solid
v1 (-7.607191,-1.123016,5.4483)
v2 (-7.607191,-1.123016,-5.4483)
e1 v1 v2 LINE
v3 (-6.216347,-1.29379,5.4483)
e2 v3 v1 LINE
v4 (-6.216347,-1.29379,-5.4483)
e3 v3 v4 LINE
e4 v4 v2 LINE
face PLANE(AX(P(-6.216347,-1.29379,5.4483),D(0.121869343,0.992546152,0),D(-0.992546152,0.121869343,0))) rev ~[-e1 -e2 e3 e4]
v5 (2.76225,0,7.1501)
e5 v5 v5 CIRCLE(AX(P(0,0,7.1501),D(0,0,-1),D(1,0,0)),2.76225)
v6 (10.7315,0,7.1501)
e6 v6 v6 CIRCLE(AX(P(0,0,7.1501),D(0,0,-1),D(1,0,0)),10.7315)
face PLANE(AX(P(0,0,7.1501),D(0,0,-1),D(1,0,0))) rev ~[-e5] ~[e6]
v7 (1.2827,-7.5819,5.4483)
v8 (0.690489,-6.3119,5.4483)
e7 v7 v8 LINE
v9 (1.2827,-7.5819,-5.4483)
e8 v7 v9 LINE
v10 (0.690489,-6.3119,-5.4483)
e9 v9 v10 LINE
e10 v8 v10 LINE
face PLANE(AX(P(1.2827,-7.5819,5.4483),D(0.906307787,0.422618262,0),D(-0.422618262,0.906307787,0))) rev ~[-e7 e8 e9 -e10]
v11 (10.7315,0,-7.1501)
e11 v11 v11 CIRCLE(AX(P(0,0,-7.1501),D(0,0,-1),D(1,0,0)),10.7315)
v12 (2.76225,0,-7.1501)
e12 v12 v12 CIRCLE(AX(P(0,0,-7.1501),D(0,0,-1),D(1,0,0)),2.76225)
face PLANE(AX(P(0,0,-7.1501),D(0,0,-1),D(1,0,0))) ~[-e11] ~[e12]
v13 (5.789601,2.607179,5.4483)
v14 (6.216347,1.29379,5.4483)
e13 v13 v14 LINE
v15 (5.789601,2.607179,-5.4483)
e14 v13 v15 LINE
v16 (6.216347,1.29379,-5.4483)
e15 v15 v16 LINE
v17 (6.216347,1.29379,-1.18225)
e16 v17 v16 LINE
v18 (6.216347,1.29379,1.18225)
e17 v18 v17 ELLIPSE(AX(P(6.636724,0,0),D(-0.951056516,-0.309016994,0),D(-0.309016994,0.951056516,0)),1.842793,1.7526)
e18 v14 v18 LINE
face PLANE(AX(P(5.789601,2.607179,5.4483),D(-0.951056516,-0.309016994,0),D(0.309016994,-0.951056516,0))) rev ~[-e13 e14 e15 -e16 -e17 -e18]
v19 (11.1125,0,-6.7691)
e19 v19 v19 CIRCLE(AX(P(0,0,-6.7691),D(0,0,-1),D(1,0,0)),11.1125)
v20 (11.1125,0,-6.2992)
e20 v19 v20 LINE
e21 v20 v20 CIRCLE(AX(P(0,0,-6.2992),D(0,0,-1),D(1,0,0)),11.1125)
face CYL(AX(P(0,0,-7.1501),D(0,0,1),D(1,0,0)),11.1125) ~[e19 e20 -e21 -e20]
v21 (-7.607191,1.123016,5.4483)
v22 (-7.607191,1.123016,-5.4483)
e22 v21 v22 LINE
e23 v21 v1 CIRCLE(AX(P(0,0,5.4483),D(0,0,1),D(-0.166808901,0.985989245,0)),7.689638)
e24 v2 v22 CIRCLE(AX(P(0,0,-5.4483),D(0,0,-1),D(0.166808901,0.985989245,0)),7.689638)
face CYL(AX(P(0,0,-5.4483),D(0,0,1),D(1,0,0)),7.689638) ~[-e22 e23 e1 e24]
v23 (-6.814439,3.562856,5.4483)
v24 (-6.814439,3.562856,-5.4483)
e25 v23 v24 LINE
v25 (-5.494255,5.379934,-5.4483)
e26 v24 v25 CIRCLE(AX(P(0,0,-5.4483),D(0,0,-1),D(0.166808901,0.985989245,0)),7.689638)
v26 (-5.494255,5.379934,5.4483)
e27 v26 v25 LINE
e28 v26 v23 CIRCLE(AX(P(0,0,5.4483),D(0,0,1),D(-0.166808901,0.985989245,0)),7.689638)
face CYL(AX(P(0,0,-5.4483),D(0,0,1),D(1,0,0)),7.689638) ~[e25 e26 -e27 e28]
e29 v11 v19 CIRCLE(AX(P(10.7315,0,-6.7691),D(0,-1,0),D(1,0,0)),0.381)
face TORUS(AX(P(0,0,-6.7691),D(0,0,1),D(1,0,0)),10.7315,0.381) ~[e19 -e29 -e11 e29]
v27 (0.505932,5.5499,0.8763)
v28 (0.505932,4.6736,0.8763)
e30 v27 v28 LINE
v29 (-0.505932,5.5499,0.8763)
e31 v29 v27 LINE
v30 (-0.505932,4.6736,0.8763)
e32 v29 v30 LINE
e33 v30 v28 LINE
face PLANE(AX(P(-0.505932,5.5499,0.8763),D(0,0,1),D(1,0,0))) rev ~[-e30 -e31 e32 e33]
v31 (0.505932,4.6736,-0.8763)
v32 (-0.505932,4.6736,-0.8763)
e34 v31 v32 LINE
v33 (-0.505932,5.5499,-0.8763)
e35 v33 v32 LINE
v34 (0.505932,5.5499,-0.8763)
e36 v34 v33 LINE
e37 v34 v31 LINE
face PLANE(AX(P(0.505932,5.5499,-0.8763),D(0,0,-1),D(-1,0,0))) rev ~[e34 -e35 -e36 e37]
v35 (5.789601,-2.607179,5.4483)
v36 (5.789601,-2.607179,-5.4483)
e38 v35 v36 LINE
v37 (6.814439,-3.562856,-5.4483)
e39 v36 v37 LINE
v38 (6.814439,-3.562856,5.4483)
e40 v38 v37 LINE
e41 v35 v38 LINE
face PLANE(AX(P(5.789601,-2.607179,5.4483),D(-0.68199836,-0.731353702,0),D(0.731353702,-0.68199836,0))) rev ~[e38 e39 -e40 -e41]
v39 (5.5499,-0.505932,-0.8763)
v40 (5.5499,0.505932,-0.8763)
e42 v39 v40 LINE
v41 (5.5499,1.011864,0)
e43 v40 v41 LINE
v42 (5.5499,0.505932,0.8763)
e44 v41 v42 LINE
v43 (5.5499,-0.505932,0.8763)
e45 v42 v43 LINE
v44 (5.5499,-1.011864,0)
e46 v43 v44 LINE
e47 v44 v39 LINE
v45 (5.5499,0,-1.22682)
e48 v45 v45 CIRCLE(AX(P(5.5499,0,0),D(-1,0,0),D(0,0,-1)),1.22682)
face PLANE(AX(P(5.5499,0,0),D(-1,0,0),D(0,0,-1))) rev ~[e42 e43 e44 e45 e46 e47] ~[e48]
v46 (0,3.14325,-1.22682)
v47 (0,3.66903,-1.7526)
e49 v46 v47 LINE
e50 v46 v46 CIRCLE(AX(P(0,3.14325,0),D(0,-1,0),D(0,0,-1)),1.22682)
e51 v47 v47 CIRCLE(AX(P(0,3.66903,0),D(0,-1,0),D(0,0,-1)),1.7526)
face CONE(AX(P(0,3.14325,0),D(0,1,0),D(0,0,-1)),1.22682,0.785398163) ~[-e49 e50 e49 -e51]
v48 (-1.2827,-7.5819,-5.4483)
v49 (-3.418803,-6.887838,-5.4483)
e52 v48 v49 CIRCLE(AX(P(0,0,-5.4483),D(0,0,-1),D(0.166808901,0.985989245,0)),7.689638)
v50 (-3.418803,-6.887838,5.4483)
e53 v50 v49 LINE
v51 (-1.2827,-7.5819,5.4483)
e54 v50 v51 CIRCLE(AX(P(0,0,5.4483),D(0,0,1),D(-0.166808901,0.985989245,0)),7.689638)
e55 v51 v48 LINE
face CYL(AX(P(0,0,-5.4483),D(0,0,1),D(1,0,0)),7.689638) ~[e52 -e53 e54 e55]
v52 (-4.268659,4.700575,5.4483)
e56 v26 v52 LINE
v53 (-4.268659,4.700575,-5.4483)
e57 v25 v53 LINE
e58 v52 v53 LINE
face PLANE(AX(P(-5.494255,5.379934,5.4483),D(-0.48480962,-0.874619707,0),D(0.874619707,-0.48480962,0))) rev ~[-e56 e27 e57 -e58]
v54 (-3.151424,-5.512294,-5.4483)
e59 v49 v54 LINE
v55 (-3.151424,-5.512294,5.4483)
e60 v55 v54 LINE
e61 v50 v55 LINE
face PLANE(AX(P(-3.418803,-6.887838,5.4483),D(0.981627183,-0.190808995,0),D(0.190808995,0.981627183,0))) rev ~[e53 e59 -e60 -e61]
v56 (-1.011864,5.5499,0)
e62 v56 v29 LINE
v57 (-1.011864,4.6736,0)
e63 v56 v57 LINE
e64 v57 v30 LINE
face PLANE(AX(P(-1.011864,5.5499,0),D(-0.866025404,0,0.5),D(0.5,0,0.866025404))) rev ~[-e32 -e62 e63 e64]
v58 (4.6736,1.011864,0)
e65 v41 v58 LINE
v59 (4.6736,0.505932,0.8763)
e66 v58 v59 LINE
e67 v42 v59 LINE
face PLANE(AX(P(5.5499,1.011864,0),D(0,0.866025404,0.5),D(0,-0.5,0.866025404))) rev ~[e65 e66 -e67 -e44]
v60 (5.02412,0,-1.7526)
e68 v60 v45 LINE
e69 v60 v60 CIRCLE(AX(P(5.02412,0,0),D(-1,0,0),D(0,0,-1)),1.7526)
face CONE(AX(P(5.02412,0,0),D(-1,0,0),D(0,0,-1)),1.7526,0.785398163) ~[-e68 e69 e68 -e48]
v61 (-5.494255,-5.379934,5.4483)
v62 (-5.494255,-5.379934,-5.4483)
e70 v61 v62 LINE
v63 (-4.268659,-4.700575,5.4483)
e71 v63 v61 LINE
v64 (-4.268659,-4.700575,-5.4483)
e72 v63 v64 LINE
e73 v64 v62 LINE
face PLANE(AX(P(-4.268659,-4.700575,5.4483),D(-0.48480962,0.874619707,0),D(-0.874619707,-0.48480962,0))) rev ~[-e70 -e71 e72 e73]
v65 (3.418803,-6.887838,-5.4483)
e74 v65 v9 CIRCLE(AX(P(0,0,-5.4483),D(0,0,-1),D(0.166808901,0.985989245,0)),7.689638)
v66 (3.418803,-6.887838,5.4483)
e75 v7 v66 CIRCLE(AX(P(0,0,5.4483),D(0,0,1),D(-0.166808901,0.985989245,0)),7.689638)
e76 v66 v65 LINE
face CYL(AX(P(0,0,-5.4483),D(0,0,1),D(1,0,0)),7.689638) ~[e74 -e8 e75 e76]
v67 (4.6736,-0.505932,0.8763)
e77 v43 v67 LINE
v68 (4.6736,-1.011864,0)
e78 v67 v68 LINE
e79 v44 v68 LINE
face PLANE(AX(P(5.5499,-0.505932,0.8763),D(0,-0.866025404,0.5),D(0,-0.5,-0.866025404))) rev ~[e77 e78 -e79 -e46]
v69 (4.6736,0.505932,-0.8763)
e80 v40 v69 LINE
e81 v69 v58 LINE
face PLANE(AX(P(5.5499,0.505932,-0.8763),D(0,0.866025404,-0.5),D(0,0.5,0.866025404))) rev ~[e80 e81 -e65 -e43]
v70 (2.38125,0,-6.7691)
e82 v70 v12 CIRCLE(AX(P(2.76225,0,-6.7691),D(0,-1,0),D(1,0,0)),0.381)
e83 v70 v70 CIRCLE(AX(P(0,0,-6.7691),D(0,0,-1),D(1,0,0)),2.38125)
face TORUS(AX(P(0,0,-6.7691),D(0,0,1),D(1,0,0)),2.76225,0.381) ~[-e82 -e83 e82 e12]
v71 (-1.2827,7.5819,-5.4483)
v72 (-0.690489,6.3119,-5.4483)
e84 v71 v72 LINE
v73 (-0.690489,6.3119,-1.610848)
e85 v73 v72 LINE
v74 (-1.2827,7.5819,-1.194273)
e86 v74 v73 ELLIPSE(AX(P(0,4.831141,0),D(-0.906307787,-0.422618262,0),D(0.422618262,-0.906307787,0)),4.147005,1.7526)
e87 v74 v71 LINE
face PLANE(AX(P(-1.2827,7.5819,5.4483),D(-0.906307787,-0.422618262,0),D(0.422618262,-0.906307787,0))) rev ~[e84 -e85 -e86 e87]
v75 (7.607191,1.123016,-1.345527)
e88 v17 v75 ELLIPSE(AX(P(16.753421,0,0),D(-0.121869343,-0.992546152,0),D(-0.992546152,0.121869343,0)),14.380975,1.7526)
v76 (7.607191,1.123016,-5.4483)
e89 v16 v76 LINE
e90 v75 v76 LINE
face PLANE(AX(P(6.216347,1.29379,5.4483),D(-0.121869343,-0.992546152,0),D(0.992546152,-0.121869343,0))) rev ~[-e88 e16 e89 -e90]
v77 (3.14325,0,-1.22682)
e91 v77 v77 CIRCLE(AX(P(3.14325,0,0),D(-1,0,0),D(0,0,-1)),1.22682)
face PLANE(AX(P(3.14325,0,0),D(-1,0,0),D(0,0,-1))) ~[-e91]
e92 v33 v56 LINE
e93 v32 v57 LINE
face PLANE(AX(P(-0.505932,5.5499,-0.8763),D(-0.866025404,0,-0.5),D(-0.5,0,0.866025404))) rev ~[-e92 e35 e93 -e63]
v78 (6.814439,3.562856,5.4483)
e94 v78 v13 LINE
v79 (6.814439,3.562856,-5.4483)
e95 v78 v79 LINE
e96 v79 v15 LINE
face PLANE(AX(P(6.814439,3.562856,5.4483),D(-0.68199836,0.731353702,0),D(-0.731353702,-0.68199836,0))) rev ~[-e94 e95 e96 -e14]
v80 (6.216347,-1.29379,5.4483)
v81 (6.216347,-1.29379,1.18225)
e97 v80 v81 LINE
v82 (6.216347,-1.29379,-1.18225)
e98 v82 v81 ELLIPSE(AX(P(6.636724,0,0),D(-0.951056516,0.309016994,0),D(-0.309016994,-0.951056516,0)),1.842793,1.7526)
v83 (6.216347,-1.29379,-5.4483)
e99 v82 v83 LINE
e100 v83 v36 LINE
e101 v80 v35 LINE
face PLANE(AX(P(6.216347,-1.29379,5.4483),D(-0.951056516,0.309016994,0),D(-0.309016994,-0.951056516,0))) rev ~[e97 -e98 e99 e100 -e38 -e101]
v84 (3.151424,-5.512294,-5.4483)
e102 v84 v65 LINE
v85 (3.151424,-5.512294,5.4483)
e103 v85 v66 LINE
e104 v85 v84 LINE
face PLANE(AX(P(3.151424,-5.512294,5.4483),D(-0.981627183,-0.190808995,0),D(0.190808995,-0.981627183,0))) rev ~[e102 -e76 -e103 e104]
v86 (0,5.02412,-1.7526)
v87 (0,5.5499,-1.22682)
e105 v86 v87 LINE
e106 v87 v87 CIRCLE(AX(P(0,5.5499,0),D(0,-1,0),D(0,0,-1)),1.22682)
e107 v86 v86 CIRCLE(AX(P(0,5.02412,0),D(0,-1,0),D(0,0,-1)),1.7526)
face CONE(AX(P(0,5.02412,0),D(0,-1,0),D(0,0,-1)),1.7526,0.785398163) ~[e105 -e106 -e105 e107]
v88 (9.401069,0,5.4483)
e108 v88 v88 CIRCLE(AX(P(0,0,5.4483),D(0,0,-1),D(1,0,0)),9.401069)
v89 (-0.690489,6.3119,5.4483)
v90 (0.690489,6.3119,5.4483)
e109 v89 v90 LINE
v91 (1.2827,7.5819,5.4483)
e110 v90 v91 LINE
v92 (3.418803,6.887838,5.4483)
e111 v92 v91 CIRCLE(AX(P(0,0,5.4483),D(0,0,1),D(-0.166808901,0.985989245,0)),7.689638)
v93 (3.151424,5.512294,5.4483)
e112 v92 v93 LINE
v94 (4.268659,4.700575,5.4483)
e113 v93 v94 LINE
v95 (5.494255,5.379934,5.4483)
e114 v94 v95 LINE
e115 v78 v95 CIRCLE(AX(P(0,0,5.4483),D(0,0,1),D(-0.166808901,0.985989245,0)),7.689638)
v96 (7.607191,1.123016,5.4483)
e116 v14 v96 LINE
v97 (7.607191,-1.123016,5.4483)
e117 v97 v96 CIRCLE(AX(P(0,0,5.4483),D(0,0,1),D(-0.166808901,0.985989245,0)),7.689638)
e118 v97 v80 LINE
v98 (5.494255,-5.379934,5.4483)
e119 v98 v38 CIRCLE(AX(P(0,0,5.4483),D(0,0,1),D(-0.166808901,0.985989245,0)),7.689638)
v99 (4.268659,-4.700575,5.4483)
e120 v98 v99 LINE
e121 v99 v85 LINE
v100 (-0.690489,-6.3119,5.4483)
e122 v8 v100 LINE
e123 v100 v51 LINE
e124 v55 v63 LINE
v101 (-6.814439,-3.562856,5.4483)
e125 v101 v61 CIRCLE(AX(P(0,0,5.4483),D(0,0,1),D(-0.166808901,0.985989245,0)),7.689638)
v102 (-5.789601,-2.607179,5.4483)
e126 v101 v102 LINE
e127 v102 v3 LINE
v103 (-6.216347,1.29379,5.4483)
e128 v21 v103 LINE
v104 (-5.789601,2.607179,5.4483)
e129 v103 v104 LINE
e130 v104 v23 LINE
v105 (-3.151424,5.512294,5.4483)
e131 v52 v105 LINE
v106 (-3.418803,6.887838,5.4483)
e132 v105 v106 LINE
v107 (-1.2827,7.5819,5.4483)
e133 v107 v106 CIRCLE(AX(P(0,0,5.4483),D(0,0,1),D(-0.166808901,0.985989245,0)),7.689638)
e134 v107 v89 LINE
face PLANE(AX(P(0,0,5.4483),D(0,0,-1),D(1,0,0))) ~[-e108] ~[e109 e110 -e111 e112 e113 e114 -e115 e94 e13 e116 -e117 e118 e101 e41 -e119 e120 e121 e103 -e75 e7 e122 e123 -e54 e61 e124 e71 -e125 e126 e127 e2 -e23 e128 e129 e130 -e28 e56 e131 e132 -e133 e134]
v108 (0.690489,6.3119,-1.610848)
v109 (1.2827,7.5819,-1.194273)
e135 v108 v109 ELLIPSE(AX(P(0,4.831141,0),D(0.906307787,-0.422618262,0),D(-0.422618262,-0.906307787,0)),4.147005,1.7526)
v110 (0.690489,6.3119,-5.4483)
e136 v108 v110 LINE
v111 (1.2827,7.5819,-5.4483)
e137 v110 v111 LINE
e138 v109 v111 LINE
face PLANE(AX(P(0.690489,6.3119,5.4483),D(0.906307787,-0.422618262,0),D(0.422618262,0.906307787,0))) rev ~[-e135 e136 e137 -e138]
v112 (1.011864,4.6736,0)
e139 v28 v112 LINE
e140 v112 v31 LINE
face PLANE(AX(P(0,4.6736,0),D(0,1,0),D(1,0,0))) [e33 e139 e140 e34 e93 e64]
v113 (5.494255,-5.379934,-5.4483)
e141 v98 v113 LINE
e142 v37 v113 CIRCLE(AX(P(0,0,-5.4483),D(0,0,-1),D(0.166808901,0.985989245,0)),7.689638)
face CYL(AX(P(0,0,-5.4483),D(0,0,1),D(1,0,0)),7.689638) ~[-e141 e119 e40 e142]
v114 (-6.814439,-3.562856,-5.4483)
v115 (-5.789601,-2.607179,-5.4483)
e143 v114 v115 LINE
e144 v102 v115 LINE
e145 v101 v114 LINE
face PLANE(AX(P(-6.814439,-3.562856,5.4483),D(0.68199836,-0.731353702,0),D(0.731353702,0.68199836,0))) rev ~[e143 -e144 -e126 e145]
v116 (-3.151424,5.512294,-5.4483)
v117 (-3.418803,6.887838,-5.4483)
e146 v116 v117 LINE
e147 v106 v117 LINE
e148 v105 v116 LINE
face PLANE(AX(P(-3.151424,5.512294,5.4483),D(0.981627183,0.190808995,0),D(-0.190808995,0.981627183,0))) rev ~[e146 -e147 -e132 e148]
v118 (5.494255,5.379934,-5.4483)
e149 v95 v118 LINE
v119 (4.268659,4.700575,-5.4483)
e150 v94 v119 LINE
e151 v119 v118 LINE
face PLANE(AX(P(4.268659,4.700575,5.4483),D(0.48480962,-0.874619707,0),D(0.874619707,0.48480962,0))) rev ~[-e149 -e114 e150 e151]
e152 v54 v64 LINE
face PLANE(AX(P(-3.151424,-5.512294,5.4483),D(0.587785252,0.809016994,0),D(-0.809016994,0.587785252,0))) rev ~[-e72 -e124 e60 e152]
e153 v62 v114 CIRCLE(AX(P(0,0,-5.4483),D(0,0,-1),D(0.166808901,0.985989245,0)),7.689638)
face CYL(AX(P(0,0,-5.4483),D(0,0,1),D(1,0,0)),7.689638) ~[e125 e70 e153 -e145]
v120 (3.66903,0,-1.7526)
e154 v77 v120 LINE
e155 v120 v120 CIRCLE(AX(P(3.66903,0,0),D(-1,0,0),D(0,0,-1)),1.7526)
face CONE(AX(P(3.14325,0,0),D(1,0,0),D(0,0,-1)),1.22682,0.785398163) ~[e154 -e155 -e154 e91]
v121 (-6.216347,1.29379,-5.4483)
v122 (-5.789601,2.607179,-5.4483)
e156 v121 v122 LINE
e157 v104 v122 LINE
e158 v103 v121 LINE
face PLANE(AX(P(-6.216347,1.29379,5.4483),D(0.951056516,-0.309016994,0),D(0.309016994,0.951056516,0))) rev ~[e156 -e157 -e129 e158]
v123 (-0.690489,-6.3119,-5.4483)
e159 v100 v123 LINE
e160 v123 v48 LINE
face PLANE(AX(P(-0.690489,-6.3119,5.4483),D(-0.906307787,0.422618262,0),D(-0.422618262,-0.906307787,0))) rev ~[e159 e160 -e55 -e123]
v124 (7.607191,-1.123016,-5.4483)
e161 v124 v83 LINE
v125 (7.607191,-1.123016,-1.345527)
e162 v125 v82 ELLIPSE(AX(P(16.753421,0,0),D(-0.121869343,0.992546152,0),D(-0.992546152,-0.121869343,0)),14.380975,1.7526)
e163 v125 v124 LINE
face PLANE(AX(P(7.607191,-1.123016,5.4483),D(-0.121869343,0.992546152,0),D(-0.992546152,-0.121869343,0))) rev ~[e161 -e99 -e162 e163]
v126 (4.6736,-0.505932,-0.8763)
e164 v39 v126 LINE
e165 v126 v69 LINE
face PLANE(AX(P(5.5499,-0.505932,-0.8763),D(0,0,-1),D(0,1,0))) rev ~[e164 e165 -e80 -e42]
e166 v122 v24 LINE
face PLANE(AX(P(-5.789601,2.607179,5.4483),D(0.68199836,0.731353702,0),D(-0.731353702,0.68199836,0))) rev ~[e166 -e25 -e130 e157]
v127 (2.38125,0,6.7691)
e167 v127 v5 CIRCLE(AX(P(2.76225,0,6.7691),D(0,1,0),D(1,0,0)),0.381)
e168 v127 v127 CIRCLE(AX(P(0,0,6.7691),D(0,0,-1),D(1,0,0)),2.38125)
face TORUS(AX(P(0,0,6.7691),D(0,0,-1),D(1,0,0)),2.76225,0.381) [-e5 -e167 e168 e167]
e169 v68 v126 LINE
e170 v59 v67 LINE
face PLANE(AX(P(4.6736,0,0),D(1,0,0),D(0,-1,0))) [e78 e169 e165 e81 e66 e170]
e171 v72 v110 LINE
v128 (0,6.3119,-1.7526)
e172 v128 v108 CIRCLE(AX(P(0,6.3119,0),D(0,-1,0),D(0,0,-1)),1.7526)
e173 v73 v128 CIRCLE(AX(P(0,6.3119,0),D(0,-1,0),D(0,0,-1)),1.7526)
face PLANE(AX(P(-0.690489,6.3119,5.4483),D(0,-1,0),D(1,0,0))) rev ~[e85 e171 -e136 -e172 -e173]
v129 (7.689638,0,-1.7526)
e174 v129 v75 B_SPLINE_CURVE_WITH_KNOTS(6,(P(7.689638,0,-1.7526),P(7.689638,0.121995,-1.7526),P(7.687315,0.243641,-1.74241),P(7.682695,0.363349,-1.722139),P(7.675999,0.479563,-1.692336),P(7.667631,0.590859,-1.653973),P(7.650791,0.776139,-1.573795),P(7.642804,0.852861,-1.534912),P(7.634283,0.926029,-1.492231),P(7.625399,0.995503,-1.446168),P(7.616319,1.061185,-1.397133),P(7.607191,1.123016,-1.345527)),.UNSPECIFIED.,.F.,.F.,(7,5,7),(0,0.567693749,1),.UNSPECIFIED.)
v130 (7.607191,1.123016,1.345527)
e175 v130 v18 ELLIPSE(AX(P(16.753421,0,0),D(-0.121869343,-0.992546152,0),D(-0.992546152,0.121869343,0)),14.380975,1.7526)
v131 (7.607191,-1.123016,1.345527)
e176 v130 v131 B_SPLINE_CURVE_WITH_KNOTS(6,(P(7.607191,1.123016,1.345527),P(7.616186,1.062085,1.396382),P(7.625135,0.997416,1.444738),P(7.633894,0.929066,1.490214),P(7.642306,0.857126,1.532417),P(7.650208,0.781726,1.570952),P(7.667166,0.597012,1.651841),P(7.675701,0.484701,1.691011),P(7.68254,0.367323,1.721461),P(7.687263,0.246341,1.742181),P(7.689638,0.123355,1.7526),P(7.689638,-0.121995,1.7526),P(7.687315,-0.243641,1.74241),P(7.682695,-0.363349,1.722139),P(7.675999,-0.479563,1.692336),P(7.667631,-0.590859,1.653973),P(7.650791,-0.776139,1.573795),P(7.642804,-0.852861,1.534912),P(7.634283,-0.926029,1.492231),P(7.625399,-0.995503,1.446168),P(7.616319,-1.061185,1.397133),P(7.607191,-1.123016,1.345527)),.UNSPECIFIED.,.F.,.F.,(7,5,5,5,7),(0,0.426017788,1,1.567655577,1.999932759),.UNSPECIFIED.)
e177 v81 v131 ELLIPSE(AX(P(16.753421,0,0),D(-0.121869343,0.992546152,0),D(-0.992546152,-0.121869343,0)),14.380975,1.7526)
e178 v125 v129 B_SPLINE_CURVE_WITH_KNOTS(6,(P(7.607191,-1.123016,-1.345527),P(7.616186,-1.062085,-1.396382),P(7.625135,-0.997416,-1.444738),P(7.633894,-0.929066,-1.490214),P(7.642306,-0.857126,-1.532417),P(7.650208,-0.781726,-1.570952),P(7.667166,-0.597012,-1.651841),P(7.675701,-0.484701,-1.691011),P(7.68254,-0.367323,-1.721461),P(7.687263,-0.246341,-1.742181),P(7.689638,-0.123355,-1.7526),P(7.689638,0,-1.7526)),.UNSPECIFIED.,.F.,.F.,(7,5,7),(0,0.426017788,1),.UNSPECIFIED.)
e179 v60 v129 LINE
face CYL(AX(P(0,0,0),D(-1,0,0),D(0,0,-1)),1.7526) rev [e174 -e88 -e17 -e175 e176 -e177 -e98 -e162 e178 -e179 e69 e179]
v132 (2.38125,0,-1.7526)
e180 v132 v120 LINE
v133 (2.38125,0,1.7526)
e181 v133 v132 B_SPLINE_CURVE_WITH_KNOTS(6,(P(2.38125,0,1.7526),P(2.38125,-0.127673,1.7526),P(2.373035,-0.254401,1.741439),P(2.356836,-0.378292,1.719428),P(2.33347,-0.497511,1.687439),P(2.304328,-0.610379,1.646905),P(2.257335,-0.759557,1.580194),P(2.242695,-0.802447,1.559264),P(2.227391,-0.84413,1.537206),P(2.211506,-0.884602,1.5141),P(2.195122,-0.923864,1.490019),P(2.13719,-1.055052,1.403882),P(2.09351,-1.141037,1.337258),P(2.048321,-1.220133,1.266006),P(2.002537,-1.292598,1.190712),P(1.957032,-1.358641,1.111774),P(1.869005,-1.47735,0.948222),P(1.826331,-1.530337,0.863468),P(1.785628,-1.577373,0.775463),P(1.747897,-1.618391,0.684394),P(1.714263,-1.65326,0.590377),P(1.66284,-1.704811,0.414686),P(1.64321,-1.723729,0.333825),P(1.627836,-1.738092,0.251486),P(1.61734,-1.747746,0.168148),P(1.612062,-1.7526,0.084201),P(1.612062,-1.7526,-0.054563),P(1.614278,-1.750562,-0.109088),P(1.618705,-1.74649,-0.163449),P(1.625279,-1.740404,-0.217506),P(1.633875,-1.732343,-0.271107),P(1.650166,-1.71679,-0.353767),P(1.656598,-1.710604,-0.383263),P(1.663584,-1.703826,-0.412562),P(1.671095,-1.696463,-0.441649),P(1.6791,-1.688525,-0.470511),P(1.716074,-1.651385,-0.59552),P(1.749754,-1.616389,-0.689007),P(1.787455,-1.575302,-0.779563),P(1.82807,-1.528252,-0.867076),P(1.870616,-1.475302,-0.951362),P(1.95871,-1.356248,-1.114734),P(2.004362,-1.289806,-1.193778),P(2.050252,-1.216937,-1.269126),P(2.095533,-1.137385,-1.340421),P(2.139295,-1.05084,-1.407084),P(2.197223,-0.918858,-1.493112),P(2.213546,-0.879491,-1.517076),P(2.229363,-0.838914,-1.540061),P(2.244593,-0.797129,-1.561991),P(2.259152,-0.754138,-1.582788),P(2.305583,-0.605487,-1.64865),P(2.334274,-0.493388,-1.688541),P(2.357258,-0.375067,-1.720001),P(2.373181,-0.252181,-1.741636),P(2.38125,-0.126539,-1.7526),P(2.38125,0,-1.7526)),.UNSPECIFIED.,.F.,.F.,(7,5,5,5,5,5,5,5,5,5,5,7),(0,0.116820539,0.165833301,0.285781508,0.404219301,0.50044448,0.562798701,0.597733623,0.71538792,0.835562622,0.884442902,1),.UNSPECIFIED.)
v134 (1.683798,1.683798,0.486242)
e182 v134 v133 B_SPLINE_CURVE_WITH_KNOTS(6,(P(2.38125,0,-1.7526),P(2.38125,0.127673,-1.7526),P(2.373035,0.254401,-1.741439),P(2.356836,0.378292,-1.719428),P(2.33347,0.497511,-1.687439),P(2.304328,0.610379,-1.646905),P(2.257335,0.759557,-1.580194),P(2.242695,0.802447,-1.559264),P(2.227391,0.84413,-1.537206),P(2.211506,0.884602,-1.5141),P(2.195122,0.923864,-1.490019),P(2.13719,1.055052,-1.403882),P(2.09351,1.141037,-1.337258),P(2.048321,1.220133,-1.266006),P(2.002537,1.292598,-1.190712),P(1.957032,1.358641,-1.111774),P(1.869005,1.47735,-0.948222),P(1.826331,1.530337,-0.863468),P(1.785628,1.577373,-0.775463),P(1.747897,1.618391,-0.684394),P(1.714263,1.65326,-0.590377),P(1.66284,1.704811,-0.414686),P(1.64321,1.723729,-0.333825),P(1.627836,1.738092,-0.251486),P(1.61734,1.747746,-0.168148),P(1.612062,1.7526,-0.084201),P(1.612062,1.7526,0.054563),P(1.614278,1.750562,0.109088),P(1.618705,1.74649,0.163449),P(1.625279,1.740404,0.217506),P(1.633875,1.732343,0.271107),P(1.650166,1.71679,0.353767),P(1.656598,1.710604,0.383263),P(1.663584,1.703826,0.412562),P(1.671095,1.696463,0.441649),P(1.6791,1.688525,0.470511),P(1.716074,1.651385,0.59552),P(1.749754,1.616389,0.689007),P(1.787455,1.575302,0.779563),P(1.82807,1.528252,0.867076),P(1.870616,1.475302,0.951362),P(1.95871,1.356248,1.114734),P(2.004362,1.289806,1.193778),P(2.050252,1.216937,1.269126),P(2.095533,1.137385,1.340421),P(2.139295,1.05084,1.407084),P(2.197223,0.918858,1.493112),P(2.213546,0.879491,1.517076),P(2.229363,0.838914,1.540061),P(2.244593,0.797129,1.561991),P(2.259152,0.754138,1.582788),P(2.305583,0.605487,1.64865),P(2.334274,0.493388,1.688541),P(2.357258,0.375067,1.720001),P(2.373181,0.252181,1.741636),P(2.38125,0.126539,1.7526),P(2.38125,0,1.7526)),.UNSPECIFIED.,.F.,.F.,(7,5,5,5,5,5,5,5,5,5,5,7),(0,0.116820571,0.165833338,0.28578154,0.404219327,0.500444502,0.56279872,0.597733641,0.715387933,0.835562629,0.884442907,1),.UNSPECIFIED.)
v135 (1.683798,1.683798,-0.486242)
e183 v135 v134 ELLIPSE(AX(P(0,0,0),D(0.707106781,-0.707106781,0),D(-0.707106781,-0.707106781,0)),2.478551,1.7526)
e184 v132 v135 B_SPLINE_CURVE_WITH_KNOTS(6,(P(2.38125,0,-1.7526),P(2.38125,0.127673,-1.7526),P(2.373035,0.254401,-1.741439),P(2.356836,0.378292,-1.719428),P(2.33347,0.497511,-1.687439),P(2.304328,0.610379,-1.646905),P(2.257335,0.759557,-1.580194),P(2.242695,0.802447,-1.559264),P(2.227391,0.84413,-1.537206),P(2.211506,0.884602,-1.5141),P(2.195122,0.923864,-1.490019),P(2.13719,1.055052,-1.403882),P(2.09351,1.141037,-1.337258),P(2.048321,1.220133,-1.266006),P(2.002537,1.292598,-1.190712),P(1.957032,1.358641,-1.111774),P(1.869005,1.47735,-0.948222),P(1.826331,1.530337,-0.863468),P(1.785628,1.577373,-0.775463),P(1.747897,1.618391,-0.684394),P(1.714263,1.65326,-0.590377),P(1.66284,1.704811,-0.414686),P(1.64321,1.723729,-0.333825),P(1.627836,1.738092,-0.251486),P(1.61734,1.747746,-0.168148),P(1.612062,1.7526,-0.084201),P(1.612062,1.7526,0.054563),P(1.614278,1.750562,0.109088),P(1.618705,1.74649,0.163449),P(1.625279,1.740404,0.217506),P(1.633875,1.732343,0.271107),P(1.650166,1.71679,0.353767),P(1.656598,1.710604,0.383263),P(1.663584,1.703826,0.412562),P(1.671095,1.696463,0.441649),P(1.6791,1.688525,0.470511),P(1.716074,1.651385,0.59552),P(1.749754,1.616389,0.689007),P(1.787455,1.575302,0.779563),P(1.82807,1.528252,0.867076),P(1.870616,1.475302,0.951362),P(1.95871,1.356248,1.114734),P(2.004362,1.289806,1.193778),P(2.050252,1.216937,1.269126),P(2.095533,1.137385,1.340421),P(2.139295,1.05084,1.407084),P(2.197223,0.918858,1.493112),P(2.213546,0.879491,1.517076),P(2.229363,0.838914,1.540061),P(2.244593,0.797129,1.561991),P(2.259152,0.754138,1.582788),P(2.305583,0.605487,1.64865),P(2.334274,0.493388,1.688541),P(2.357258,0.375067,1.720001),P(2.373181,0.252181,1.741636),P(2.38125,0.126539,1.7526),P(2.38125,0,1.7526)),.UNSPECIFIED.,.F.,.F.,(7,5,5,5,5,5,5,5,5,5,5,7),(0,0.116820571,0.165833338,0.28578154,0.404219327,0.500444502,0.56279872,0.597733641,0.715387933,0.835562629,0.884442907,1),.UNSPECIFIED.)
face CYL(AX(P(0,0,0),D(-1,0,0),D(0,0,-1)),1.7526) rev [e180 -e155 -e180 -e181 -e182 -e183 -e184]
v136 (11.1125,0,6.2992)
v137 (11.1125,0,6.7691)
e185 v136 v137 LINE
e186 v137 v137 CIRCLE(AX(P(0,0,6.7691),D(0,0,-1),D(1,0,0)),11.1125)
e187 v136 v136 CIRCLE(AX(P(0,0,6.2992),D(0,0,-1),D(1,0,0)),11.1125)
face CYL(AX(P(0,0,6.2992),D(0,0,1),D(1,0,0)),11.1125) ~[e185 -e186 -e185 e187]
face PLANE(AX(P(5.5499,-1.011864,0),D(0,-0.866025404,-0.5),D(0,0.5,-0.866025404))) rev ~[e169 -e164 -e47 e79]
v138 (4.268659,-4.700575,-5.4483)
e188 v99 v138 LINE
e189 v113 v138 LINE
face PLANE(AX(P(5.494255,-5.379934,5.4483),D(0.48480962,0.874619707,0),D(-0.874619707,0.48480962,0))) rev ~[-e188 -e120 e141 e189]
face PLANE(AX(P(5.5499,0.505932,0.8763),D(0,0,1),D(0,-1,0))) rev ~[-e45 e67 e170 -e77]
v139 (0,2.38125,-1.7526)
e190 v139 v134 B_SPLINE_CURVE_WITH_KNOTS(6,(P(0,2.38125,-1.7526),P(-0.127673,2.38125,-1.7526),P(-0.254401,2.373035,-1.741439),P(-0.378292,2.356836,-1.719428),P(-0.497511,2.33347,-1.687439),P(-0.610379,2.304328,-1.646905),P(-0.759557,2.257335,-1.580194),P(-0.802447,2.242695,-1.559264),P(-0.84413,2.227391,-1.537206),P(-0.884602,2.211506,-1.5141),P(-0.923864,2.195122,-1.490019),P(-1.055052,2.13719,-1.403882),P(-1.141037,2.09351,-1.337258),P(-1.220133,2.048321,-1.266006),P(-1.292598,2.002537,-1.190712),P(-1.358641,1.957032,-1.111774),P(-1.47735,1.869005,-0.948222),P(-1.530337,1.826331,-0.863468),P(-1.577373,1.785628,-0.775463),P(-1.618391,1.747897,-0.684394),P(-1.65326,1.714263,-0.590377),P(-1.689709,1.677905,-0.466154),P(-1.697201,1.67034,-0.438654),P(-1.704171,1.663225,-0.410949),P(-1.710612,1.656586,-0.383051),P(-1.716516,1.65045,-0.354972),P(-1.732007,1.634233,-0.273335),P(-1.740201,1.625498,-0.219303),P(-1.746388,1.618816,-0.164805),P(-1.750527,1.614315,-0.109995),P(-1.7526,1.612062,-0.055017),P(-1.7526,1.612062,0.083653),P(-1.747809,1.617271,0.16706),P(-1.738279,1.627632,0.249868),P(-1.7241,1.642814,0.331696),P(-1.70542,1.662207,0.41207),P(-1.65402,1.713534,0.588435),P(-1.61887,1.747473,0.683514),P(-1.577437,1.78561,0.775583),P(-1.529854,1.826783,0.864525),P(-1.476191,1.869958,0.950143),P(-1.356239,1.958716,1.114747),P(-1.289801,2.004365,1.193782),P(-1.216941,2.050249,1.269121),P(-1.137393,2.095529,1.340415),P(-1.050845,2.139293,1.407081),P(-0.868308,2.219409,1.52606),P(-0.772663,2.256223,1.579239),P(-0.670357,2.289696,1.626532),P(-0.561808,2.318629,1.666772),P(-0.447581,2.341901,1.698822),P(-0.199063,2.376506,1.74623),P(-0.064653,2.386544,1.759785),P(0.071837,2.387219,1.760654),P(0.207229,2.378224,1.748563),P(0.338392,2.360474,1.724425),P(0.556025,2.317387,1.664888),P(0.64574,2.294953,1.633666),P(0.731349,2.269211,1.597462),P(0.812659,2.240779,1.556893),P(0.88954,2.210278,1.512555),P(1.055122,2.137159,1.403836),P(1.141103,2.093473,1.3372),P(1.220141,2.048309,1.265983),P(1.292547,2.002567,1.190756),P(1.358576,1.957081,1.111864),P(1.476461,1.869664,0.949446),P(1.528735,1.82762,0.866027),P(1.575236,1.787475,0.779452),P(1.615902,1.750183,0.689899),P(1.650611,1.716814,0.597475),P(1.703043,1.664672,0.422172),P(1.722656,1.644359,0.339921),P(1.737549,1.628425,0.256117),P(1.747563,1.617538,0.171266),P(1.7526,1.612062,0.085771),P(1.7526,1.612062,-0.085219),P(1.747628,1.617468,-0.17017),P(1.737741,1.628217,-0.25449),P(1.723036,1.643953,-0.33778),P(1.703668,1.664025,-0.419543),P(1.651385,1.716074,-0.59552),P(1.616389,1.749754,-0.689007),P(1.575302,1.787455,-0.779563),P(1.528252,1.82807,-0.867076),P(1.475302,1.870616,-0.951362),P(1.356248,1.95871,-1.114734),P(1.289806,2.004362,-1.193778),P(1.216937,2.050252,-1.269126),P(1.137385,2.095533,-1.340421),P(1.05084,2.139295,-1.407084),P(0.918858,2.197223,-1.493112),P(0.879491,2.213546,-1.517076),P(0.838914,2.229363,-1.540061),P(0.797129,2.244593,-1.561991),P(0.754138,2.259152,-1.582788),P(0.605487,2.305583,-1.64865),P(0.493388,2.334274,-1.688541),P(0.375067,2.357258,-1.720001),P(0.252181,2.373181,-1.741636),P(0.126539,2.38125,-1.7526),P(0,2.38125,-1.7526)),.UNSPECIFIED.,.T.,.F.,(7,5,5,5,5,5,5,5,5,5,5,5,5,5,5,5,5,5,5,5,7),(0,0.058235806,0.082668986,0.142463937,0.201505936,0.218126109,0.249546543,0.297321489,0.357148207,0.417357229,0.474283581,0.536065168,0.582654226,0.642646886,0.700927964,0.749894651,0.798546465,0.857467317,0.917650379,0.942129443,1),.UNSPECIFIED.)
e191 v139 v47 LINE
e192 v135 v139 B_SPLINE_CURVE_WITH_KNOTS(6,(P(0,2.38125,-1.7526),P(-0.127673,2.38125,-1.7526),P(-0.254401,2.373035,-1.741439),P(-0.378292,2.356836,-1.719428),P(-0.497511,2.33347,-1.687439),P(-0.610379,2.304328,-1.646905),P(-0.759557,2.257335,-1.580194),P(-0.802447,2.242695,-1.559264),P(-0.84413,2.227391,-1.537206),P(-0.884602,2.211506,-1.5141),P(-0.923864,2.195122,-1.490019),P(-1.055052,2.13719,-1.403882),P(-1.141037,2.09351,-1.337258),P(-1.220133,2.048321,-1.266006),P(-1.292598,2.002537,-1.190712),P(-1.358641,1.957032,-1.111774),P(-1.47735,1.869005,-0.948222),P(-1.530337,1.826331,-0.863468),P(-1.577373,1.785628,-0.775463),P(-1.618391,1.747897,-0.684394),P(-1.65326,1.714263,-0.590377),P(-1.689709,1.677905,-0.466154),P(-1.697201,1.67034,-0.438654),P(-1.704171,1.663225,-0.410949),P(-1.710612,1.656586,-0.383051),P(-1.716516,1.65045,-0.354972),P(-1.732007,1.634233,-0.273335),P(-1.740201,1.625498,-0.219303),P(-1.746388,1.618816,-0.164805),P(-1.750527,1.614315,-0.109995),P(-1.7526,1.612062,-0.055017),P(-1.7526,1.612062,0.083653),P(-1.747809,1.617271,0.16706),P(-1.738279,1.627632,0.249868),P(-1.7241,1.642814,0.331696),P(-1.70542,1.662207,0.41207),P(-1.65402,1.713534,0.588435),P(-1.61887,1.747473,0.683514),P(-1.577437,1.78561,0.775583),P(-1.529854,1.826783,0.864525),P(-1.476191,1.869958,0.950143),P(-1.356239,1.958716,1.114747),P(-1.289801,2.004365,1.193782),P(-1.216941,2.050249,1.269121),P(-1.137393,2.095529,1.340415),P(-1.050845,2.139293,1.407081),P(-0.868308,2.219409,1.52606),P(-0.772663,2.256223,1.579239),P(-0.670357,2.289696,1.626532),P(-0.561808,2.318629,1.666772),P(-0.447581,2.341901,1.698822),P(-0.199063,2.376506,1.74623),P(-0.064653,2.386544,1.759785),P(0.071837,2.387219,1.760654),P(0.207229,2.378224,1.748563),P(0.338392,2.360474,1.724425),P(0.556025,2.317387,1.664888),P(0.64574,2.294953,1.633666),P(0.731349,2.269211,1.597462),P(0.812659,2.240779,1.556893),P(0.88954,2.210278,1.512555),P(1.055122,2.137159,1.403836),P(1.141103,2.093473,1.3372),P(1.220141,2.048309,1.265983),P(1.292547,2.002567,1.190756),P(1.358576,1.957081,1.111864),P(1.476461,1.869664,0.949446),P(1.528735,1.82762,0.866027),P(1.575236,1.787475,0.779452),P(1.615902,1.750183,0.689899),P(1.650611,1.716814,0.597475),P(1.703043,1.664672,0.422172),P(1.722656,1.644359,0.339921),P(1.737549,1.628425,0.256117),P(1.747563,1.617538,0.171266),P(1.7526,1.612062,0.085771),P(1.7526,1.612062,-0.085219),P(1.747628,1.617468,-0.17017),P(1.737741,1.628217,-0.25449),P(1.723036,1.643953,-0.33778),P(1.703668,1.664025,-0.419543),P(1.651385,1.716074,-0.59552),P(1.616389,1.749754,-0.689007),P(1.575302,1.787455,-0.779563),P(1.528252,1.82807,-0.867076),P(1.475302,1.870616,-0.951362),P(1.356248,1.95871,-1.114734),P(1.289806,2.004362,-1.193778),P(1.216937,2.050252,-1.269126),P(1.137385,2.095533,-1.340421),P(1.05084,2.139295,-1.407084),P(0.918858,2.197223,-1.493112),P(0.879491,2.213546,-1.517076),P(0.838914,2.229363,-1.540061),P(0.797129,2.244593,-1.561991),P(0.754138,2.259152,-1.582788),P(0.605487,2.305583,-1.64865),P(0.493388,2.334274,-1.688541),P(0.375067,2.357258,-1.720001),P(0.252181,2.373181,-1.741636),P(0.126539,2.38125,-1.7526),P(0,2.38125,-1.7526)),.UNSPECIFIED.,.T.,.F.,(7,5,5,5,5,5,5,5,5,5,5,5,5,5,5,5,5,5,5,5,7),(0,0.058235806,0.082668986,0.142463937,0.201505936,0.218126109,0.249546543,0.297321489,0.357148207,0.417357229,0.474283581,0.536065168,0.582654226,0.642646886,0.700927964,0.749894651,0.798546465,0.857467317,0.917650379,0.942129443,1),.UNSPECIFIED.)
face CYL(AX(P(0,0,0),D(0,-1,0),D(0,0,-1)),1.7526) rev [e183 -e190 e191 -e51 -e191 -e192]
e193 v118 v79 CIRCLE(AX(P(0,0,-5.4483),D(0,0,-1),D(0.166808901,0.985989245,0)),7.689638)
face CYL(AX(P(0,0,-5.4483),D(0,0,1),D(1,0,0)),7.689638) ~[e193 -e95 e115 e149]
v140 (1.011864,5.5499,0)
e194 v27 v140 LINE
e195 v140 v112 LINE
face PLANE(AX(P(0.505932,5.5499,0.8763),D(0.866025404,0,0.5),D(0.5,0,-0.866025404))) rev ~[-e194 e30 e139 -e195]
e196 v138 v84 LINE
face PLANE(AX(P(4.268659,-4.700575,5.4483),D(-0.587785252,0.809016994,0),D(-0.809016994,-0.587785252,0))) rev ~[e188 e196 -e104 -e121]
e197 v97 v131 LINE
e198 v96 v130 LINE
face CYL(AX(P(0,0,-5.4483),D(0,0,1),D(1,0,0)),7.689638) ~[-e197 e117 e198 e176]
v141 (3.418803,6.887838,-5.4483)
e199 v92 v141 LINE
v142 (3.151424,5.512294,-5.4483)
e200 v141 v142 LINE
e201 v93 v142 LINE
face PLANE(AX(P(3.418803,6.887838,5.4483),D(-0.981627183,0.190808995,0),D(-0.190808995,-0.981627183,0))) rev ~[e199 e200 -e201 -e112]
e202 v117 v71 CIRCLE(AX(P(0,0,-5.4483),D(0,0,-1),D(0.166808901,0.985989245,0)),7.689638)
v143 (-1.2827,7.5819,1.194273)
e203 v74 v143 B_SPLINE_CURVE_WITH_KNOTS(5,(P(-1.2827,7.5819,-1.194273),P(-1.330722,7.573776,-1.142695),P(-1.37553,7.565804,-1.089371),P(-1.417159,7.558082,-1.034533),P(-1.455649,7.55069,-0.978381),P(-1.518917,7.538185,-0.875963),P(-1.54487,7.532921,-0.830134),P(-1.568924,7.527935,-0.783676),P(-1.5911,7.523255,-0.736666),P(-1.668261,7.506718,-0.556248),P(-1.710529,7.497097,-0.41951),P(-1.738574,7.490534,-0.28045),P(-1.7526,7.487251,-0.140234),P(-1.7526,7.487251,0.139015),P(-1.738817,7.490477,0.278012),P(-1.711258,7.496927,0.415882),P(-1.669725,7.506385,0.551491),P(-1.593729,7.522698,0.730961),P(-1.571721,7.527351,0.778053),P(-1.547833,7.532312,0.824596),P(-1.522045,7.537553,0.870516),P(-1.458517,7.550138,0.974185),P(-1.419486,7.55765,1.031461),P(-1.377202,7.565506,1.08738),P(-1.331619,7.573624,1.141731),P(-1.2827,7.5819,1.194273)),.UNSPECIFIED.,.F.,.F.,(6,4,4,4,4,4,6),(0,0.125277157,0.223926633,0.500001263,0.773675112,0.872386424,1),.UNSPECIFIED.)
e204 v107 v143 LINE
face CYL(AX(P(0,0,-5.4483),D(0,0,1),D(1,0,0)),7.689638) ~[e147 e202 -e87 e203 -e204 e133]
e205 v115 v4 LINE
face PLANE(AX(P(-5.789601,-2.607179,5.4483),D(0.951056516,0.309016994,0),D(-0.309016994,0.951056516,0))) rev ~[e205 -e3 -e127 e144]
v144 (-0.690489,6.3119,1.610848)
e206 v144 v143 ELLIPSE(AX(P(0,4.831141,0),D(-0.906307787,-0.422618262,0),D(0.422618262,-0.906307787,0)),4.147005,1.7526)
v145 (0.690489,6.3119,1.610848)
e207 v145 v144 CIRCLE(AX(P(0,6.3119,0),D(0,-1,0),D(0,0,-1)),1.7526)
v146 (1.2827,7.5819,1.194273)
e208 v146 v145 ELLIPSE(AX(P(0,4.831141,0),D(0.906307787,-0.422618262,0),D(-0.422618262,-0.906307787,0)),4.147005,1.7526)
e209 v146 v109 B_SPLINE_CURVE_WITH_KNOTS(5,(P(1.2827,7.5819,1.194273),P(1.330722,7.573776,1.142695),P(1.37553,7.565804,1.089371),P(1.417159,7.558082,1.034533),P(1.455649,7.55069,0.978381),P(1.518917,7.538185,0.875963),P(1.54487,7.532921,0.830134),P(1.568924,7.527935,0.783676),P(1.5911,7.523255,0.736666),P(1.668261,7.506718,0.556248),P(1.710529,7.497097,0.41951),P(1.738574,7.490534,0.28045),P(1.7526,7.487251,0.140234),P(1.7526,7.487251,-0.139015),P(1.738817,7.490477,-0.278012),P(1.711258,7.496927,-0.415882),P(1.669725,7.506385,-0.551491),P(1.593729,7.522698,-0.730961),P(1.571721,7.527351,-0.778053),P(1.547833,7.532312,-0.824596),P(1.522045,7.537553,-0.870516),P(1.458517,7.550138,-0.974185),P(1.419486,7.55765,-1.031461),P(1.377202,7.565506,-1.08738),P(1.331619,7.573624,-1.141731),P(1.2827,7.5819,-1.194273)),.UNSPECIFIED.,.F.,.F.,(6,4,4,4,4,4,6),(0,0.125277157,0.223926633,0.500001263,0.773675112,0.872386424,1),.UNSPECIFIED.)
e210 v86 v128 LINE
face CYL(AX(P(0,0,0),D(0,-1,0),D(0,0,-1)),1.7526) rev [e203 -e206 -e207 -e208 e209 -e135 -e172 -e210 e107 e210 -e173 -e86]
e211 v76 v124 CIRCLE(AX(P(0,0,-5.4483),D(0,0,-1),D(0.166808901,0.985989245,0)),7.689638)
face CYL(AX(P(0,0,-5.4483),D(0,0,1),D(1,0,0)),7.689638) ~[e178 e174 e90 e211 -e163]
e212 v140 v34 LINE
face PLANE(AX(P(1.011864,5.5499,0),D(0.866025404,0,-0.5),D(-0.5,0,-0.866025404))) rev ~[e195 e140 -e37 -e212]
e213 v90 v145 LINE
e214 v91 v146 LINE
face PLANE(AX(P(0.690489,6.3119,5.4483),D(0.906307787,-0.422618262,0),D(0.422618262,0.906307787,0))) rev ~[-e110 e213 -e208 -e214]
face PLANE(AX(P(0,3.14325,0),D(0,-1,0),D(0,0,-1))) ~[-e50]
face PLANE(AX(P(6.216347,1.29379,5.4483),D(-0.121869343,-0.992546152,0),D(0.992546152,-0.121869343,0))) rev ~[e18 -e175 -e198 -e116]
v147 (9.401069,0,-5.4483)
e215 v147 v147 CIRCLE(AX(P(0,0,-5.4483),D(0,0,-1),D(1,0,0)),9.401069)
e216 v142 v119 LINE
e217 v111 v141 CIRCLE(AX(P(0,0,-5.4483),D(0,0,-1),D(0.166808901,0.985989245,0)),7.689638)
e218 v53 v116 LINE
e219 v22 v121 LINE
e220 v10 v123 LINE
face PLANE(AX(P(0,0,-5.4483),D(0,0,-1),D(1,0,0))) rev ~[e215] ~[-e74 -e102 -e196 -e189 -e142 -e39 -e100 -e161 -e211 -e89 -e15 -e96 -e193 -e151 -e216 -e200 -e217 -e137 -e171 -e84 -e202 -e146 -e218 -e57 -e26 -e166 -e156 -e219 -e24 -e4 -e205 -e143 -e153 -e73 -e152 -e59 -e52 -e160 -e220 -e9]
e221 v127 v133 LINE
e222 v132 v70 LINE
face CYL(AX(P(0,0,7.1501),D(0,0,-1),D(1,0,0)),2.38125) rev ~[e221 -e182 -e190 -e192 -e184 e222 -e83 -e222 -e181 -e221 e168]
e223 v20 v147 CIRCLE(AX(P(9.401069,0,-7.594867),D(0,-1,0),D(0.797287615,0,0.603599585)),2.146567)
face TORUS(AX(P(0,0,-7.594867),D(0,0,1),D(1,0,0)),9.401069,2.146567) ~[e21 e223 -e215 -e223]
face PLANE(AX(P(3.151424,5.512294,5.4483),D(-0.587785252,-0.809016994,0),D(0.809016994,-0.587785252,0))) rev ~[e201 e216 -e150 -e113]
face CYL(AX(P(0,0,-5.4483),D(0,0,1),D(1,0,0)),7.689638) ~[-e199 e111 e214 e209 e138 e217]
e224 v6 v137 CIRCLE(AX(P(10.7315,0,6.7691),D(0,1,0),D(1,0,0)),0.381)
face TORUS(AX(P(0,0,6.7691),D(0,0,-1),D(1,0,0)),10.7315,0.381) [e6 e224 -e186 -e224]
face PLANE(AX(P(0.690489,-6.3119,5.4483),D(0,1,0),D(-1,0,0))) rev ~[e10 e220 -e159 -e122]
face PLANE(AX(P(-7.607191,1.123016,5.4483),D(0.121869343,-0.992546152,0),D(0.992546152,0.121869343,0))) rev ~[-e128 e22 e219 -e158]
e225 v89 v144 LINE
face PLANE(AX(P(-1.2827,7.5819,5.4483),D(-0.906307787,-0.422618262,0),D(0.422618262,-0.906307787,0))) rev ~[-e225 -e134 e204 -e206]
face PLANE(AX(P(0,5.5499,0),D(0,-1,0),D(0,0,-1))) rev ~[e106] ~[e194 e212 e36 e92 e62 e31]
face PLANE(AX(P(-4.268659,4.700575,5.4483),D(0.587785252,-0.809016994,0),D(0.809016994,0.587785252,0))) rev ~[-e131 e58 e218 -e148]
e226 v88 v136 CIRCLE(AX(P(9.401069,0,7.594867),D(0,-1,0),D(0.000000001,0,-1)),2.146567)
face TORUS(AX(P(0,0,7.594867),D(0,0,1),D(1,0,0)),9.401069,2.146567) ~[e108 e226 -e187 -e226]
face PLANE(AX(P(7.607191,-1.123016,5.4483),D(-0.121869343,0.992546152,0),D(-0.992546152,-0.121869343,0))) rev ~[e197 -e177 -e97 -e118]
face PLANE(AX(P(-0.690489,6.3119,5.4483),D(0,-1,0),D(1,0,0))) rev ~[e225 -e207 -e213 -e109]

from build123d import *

# Parameters (mm, degrees)
CUT_EXTRUDE1_START = 5.4483
CUT_EXTRUDE1_DEPTH = 10.8966
CIRPATTERN1_COUNT  = 10
FILLET1_R          = 0.381
SKETCH5_R          = 1.7526
CUT_EXTRUDE2_DEPTH = 18.265550744
CUT_EXTRUDE3_DEPTH = 0.8763
CIRPATTERN2_COUNT  = 2
CIRPATTERN2_ANGLE  = 270


with BuildPart() as part:
    # Sketch2 → Revolve1 (revolve)
    with BuildSketch(Plane(origin=(0, 0, 0), x_dir=(0, 0, -1), z_dir=(1, 0, 0)), mode=Mode.PRIVATE) as revolve1_sk:
        with BuildLine():
            Line((-7.1501, 2.38125), (7.1501, 2.38125))
            Line((7.1501, 2.38125), (7.1501, 11.1125))
            Line((7.1501, 11.1125), (6.2992, 11.1125))
            ThreePointArc((6.2992, 11.1125), (5.672760616, 10.35671356), (5.4483, 9.401068816))
            Line((5.4483, 9.401068816), (5.4483, 7.689637631))
            Line((5.4483, 7.689637631), (-5.4483, 7.689637631))
            Line((-5.4483, 7.689637631), (-5.4483, 9.401068816))
            ThreePointArc((-5.4483, 9.401068816), (-5.672760616, 10.35671356), (-6.2992, 11.1125))
            Line((-6.2992, 11.1125), (-7.1501, 11.1125))
            Line((-7.1501, 11.1125), (-7.1501, 2.38125))
        make_face()
    revolve(revolve1_sk.sketch.rotate(Axis((0, 0, 7.1501), (0, 0, -1)), 90), axis=Axis((0, 0, 7.1501), (0, 0, -1)))

    # Sketch3 → Cut-Extrude1 (cut)
    with BuildSketch(Plane.XY.offset(CUT_EXTRUDE1_START)):
        with BuildLine():
            Line((-0.690489274, 6.3119), (0.690489274, 6.3119))
            Line((0.690489274, 6.3119), (1.2827, 7.5819))
            ThreePointArc((1.2827, 7.5819), (0, 7.689637631), (-1.2827, 7.5819))
            Line((-1.2827, 7.5819), (-0.690489274, 6.3119))
        make_face()
    cut_extrude1 = extrude(amount=-CUT_EXTRUDE1_DEPTH, mode=Mode.SUBTRACT)

    # CirPattern1: Cut-Extrude1 ×10 about axis
    cirpattern1_axis = Axis((0, 0, 0), (0, 0, 1))
    for i in range(1, CIRPATTERN1_COUNT):
        add(cut_extrude1.rotate(cirpattern1_axis, i * 360 / CIRPATTERN1_COUNT), mode=Mode.SUBTRACT)

    # Fillet1
    fillet1_edges = [part.edges().sort_by_distance(p)[0] for p in [
        (-11.1125, 0, -7.1501),
        (-2.38125, 0, -7.1501),
        (-2.38125, 0, 7.1501),
        (-11.1125, 0, 7.1501),
    ]]
    fillet(fillet1_edges, radius=FILLET1_R)

    # Sketch5 → Cut-Extrude2 (cut, through all)
    with BuildSketch(Plane(origin=(0, 0, 0), x_dir=(1, 0, 0), z_dir=(0, 1, 0))):
        with Locations(Location((0, 0, 0), (0, 0, 90))):
            Circle(SKETCH5_R)
    cut_extrude2 = extrude(amount=CUT_EXTRUDE2_DEPTH, mode=Mode.SUBTRACT)

    # Sketch6 → Revolve2 (revolve)
    with BuildSketch(Plane(origin=(0, 0, 0), x_dir=(0, 0, -1), z_dir=(1, 0, 0)), mode=Mode.PRIVATE) as revolve2_sk:
        Polygon((0, 5.5499), (0, 3.14325), (-1.22682, 3.14325), (-1.7526, 3.66903), (-1.7526, 5.02412), (-1.22682, 5.5499), align=None)
    revolve2 = revolve(revolve2_sk.sketch.rotate(Axis((0, 5.5499, 0), (0, -1, 0)), 180), axis=Axis((0, 5.5499, 0), (0, -1, 0)))

    # Sketch7 → Cut-Extrude3 (cut)
    with BuildSketch(Plane(origin=(0, 5.5499, 0), x_dir=(1, 0, 0), z_dir=(0, 1, 0))):
        Polygon((1.011864082, 0), (0.505932041, 0.8763), (-0.505932041, 0.8763), (-1.011864082, 0), (-0.505932041, -0.8763), (0.505932041, -0.8763), align=None)
    cut_extrude3 = extrude(amount=-CUT_EXTRUDE3_DEPTH, mode=Mode.SUBTRACT)

    # CirPattern2: Cut-Extrude2, Revolve2, Cut-Extrude3 ×2 about axis
    cirpattern2_axis = Axis((0, 0, 0), (0, 0, 1))
    add([cut_extrude2.rotate(cirpattern2_axis, i * CIRPATTERN2_ANGLE / (CIRPATTERN2_COUNT - 1)) for i in range(1, CIRPATTERN2_COUNT)], mode=Mode.SUBTRACT)
    add([revolve2.rotate(cirpattern2_axis, i * CIRPATTERN2_ANGLE / (CIRPATTERN2_COUNT - 1)) for i in range(1, CIRPATTERN2_COUNT)])
    add([cut_extrude3.rotate(cirpattern2_axis, i * CIRPATTERN2_ANGLE / (CIRPATTERN2_COUNT - 1)) for i in range(1, CIRPATTERN2_COUNT)], mode=Mode.SUBTRACT)


solid = part.part
